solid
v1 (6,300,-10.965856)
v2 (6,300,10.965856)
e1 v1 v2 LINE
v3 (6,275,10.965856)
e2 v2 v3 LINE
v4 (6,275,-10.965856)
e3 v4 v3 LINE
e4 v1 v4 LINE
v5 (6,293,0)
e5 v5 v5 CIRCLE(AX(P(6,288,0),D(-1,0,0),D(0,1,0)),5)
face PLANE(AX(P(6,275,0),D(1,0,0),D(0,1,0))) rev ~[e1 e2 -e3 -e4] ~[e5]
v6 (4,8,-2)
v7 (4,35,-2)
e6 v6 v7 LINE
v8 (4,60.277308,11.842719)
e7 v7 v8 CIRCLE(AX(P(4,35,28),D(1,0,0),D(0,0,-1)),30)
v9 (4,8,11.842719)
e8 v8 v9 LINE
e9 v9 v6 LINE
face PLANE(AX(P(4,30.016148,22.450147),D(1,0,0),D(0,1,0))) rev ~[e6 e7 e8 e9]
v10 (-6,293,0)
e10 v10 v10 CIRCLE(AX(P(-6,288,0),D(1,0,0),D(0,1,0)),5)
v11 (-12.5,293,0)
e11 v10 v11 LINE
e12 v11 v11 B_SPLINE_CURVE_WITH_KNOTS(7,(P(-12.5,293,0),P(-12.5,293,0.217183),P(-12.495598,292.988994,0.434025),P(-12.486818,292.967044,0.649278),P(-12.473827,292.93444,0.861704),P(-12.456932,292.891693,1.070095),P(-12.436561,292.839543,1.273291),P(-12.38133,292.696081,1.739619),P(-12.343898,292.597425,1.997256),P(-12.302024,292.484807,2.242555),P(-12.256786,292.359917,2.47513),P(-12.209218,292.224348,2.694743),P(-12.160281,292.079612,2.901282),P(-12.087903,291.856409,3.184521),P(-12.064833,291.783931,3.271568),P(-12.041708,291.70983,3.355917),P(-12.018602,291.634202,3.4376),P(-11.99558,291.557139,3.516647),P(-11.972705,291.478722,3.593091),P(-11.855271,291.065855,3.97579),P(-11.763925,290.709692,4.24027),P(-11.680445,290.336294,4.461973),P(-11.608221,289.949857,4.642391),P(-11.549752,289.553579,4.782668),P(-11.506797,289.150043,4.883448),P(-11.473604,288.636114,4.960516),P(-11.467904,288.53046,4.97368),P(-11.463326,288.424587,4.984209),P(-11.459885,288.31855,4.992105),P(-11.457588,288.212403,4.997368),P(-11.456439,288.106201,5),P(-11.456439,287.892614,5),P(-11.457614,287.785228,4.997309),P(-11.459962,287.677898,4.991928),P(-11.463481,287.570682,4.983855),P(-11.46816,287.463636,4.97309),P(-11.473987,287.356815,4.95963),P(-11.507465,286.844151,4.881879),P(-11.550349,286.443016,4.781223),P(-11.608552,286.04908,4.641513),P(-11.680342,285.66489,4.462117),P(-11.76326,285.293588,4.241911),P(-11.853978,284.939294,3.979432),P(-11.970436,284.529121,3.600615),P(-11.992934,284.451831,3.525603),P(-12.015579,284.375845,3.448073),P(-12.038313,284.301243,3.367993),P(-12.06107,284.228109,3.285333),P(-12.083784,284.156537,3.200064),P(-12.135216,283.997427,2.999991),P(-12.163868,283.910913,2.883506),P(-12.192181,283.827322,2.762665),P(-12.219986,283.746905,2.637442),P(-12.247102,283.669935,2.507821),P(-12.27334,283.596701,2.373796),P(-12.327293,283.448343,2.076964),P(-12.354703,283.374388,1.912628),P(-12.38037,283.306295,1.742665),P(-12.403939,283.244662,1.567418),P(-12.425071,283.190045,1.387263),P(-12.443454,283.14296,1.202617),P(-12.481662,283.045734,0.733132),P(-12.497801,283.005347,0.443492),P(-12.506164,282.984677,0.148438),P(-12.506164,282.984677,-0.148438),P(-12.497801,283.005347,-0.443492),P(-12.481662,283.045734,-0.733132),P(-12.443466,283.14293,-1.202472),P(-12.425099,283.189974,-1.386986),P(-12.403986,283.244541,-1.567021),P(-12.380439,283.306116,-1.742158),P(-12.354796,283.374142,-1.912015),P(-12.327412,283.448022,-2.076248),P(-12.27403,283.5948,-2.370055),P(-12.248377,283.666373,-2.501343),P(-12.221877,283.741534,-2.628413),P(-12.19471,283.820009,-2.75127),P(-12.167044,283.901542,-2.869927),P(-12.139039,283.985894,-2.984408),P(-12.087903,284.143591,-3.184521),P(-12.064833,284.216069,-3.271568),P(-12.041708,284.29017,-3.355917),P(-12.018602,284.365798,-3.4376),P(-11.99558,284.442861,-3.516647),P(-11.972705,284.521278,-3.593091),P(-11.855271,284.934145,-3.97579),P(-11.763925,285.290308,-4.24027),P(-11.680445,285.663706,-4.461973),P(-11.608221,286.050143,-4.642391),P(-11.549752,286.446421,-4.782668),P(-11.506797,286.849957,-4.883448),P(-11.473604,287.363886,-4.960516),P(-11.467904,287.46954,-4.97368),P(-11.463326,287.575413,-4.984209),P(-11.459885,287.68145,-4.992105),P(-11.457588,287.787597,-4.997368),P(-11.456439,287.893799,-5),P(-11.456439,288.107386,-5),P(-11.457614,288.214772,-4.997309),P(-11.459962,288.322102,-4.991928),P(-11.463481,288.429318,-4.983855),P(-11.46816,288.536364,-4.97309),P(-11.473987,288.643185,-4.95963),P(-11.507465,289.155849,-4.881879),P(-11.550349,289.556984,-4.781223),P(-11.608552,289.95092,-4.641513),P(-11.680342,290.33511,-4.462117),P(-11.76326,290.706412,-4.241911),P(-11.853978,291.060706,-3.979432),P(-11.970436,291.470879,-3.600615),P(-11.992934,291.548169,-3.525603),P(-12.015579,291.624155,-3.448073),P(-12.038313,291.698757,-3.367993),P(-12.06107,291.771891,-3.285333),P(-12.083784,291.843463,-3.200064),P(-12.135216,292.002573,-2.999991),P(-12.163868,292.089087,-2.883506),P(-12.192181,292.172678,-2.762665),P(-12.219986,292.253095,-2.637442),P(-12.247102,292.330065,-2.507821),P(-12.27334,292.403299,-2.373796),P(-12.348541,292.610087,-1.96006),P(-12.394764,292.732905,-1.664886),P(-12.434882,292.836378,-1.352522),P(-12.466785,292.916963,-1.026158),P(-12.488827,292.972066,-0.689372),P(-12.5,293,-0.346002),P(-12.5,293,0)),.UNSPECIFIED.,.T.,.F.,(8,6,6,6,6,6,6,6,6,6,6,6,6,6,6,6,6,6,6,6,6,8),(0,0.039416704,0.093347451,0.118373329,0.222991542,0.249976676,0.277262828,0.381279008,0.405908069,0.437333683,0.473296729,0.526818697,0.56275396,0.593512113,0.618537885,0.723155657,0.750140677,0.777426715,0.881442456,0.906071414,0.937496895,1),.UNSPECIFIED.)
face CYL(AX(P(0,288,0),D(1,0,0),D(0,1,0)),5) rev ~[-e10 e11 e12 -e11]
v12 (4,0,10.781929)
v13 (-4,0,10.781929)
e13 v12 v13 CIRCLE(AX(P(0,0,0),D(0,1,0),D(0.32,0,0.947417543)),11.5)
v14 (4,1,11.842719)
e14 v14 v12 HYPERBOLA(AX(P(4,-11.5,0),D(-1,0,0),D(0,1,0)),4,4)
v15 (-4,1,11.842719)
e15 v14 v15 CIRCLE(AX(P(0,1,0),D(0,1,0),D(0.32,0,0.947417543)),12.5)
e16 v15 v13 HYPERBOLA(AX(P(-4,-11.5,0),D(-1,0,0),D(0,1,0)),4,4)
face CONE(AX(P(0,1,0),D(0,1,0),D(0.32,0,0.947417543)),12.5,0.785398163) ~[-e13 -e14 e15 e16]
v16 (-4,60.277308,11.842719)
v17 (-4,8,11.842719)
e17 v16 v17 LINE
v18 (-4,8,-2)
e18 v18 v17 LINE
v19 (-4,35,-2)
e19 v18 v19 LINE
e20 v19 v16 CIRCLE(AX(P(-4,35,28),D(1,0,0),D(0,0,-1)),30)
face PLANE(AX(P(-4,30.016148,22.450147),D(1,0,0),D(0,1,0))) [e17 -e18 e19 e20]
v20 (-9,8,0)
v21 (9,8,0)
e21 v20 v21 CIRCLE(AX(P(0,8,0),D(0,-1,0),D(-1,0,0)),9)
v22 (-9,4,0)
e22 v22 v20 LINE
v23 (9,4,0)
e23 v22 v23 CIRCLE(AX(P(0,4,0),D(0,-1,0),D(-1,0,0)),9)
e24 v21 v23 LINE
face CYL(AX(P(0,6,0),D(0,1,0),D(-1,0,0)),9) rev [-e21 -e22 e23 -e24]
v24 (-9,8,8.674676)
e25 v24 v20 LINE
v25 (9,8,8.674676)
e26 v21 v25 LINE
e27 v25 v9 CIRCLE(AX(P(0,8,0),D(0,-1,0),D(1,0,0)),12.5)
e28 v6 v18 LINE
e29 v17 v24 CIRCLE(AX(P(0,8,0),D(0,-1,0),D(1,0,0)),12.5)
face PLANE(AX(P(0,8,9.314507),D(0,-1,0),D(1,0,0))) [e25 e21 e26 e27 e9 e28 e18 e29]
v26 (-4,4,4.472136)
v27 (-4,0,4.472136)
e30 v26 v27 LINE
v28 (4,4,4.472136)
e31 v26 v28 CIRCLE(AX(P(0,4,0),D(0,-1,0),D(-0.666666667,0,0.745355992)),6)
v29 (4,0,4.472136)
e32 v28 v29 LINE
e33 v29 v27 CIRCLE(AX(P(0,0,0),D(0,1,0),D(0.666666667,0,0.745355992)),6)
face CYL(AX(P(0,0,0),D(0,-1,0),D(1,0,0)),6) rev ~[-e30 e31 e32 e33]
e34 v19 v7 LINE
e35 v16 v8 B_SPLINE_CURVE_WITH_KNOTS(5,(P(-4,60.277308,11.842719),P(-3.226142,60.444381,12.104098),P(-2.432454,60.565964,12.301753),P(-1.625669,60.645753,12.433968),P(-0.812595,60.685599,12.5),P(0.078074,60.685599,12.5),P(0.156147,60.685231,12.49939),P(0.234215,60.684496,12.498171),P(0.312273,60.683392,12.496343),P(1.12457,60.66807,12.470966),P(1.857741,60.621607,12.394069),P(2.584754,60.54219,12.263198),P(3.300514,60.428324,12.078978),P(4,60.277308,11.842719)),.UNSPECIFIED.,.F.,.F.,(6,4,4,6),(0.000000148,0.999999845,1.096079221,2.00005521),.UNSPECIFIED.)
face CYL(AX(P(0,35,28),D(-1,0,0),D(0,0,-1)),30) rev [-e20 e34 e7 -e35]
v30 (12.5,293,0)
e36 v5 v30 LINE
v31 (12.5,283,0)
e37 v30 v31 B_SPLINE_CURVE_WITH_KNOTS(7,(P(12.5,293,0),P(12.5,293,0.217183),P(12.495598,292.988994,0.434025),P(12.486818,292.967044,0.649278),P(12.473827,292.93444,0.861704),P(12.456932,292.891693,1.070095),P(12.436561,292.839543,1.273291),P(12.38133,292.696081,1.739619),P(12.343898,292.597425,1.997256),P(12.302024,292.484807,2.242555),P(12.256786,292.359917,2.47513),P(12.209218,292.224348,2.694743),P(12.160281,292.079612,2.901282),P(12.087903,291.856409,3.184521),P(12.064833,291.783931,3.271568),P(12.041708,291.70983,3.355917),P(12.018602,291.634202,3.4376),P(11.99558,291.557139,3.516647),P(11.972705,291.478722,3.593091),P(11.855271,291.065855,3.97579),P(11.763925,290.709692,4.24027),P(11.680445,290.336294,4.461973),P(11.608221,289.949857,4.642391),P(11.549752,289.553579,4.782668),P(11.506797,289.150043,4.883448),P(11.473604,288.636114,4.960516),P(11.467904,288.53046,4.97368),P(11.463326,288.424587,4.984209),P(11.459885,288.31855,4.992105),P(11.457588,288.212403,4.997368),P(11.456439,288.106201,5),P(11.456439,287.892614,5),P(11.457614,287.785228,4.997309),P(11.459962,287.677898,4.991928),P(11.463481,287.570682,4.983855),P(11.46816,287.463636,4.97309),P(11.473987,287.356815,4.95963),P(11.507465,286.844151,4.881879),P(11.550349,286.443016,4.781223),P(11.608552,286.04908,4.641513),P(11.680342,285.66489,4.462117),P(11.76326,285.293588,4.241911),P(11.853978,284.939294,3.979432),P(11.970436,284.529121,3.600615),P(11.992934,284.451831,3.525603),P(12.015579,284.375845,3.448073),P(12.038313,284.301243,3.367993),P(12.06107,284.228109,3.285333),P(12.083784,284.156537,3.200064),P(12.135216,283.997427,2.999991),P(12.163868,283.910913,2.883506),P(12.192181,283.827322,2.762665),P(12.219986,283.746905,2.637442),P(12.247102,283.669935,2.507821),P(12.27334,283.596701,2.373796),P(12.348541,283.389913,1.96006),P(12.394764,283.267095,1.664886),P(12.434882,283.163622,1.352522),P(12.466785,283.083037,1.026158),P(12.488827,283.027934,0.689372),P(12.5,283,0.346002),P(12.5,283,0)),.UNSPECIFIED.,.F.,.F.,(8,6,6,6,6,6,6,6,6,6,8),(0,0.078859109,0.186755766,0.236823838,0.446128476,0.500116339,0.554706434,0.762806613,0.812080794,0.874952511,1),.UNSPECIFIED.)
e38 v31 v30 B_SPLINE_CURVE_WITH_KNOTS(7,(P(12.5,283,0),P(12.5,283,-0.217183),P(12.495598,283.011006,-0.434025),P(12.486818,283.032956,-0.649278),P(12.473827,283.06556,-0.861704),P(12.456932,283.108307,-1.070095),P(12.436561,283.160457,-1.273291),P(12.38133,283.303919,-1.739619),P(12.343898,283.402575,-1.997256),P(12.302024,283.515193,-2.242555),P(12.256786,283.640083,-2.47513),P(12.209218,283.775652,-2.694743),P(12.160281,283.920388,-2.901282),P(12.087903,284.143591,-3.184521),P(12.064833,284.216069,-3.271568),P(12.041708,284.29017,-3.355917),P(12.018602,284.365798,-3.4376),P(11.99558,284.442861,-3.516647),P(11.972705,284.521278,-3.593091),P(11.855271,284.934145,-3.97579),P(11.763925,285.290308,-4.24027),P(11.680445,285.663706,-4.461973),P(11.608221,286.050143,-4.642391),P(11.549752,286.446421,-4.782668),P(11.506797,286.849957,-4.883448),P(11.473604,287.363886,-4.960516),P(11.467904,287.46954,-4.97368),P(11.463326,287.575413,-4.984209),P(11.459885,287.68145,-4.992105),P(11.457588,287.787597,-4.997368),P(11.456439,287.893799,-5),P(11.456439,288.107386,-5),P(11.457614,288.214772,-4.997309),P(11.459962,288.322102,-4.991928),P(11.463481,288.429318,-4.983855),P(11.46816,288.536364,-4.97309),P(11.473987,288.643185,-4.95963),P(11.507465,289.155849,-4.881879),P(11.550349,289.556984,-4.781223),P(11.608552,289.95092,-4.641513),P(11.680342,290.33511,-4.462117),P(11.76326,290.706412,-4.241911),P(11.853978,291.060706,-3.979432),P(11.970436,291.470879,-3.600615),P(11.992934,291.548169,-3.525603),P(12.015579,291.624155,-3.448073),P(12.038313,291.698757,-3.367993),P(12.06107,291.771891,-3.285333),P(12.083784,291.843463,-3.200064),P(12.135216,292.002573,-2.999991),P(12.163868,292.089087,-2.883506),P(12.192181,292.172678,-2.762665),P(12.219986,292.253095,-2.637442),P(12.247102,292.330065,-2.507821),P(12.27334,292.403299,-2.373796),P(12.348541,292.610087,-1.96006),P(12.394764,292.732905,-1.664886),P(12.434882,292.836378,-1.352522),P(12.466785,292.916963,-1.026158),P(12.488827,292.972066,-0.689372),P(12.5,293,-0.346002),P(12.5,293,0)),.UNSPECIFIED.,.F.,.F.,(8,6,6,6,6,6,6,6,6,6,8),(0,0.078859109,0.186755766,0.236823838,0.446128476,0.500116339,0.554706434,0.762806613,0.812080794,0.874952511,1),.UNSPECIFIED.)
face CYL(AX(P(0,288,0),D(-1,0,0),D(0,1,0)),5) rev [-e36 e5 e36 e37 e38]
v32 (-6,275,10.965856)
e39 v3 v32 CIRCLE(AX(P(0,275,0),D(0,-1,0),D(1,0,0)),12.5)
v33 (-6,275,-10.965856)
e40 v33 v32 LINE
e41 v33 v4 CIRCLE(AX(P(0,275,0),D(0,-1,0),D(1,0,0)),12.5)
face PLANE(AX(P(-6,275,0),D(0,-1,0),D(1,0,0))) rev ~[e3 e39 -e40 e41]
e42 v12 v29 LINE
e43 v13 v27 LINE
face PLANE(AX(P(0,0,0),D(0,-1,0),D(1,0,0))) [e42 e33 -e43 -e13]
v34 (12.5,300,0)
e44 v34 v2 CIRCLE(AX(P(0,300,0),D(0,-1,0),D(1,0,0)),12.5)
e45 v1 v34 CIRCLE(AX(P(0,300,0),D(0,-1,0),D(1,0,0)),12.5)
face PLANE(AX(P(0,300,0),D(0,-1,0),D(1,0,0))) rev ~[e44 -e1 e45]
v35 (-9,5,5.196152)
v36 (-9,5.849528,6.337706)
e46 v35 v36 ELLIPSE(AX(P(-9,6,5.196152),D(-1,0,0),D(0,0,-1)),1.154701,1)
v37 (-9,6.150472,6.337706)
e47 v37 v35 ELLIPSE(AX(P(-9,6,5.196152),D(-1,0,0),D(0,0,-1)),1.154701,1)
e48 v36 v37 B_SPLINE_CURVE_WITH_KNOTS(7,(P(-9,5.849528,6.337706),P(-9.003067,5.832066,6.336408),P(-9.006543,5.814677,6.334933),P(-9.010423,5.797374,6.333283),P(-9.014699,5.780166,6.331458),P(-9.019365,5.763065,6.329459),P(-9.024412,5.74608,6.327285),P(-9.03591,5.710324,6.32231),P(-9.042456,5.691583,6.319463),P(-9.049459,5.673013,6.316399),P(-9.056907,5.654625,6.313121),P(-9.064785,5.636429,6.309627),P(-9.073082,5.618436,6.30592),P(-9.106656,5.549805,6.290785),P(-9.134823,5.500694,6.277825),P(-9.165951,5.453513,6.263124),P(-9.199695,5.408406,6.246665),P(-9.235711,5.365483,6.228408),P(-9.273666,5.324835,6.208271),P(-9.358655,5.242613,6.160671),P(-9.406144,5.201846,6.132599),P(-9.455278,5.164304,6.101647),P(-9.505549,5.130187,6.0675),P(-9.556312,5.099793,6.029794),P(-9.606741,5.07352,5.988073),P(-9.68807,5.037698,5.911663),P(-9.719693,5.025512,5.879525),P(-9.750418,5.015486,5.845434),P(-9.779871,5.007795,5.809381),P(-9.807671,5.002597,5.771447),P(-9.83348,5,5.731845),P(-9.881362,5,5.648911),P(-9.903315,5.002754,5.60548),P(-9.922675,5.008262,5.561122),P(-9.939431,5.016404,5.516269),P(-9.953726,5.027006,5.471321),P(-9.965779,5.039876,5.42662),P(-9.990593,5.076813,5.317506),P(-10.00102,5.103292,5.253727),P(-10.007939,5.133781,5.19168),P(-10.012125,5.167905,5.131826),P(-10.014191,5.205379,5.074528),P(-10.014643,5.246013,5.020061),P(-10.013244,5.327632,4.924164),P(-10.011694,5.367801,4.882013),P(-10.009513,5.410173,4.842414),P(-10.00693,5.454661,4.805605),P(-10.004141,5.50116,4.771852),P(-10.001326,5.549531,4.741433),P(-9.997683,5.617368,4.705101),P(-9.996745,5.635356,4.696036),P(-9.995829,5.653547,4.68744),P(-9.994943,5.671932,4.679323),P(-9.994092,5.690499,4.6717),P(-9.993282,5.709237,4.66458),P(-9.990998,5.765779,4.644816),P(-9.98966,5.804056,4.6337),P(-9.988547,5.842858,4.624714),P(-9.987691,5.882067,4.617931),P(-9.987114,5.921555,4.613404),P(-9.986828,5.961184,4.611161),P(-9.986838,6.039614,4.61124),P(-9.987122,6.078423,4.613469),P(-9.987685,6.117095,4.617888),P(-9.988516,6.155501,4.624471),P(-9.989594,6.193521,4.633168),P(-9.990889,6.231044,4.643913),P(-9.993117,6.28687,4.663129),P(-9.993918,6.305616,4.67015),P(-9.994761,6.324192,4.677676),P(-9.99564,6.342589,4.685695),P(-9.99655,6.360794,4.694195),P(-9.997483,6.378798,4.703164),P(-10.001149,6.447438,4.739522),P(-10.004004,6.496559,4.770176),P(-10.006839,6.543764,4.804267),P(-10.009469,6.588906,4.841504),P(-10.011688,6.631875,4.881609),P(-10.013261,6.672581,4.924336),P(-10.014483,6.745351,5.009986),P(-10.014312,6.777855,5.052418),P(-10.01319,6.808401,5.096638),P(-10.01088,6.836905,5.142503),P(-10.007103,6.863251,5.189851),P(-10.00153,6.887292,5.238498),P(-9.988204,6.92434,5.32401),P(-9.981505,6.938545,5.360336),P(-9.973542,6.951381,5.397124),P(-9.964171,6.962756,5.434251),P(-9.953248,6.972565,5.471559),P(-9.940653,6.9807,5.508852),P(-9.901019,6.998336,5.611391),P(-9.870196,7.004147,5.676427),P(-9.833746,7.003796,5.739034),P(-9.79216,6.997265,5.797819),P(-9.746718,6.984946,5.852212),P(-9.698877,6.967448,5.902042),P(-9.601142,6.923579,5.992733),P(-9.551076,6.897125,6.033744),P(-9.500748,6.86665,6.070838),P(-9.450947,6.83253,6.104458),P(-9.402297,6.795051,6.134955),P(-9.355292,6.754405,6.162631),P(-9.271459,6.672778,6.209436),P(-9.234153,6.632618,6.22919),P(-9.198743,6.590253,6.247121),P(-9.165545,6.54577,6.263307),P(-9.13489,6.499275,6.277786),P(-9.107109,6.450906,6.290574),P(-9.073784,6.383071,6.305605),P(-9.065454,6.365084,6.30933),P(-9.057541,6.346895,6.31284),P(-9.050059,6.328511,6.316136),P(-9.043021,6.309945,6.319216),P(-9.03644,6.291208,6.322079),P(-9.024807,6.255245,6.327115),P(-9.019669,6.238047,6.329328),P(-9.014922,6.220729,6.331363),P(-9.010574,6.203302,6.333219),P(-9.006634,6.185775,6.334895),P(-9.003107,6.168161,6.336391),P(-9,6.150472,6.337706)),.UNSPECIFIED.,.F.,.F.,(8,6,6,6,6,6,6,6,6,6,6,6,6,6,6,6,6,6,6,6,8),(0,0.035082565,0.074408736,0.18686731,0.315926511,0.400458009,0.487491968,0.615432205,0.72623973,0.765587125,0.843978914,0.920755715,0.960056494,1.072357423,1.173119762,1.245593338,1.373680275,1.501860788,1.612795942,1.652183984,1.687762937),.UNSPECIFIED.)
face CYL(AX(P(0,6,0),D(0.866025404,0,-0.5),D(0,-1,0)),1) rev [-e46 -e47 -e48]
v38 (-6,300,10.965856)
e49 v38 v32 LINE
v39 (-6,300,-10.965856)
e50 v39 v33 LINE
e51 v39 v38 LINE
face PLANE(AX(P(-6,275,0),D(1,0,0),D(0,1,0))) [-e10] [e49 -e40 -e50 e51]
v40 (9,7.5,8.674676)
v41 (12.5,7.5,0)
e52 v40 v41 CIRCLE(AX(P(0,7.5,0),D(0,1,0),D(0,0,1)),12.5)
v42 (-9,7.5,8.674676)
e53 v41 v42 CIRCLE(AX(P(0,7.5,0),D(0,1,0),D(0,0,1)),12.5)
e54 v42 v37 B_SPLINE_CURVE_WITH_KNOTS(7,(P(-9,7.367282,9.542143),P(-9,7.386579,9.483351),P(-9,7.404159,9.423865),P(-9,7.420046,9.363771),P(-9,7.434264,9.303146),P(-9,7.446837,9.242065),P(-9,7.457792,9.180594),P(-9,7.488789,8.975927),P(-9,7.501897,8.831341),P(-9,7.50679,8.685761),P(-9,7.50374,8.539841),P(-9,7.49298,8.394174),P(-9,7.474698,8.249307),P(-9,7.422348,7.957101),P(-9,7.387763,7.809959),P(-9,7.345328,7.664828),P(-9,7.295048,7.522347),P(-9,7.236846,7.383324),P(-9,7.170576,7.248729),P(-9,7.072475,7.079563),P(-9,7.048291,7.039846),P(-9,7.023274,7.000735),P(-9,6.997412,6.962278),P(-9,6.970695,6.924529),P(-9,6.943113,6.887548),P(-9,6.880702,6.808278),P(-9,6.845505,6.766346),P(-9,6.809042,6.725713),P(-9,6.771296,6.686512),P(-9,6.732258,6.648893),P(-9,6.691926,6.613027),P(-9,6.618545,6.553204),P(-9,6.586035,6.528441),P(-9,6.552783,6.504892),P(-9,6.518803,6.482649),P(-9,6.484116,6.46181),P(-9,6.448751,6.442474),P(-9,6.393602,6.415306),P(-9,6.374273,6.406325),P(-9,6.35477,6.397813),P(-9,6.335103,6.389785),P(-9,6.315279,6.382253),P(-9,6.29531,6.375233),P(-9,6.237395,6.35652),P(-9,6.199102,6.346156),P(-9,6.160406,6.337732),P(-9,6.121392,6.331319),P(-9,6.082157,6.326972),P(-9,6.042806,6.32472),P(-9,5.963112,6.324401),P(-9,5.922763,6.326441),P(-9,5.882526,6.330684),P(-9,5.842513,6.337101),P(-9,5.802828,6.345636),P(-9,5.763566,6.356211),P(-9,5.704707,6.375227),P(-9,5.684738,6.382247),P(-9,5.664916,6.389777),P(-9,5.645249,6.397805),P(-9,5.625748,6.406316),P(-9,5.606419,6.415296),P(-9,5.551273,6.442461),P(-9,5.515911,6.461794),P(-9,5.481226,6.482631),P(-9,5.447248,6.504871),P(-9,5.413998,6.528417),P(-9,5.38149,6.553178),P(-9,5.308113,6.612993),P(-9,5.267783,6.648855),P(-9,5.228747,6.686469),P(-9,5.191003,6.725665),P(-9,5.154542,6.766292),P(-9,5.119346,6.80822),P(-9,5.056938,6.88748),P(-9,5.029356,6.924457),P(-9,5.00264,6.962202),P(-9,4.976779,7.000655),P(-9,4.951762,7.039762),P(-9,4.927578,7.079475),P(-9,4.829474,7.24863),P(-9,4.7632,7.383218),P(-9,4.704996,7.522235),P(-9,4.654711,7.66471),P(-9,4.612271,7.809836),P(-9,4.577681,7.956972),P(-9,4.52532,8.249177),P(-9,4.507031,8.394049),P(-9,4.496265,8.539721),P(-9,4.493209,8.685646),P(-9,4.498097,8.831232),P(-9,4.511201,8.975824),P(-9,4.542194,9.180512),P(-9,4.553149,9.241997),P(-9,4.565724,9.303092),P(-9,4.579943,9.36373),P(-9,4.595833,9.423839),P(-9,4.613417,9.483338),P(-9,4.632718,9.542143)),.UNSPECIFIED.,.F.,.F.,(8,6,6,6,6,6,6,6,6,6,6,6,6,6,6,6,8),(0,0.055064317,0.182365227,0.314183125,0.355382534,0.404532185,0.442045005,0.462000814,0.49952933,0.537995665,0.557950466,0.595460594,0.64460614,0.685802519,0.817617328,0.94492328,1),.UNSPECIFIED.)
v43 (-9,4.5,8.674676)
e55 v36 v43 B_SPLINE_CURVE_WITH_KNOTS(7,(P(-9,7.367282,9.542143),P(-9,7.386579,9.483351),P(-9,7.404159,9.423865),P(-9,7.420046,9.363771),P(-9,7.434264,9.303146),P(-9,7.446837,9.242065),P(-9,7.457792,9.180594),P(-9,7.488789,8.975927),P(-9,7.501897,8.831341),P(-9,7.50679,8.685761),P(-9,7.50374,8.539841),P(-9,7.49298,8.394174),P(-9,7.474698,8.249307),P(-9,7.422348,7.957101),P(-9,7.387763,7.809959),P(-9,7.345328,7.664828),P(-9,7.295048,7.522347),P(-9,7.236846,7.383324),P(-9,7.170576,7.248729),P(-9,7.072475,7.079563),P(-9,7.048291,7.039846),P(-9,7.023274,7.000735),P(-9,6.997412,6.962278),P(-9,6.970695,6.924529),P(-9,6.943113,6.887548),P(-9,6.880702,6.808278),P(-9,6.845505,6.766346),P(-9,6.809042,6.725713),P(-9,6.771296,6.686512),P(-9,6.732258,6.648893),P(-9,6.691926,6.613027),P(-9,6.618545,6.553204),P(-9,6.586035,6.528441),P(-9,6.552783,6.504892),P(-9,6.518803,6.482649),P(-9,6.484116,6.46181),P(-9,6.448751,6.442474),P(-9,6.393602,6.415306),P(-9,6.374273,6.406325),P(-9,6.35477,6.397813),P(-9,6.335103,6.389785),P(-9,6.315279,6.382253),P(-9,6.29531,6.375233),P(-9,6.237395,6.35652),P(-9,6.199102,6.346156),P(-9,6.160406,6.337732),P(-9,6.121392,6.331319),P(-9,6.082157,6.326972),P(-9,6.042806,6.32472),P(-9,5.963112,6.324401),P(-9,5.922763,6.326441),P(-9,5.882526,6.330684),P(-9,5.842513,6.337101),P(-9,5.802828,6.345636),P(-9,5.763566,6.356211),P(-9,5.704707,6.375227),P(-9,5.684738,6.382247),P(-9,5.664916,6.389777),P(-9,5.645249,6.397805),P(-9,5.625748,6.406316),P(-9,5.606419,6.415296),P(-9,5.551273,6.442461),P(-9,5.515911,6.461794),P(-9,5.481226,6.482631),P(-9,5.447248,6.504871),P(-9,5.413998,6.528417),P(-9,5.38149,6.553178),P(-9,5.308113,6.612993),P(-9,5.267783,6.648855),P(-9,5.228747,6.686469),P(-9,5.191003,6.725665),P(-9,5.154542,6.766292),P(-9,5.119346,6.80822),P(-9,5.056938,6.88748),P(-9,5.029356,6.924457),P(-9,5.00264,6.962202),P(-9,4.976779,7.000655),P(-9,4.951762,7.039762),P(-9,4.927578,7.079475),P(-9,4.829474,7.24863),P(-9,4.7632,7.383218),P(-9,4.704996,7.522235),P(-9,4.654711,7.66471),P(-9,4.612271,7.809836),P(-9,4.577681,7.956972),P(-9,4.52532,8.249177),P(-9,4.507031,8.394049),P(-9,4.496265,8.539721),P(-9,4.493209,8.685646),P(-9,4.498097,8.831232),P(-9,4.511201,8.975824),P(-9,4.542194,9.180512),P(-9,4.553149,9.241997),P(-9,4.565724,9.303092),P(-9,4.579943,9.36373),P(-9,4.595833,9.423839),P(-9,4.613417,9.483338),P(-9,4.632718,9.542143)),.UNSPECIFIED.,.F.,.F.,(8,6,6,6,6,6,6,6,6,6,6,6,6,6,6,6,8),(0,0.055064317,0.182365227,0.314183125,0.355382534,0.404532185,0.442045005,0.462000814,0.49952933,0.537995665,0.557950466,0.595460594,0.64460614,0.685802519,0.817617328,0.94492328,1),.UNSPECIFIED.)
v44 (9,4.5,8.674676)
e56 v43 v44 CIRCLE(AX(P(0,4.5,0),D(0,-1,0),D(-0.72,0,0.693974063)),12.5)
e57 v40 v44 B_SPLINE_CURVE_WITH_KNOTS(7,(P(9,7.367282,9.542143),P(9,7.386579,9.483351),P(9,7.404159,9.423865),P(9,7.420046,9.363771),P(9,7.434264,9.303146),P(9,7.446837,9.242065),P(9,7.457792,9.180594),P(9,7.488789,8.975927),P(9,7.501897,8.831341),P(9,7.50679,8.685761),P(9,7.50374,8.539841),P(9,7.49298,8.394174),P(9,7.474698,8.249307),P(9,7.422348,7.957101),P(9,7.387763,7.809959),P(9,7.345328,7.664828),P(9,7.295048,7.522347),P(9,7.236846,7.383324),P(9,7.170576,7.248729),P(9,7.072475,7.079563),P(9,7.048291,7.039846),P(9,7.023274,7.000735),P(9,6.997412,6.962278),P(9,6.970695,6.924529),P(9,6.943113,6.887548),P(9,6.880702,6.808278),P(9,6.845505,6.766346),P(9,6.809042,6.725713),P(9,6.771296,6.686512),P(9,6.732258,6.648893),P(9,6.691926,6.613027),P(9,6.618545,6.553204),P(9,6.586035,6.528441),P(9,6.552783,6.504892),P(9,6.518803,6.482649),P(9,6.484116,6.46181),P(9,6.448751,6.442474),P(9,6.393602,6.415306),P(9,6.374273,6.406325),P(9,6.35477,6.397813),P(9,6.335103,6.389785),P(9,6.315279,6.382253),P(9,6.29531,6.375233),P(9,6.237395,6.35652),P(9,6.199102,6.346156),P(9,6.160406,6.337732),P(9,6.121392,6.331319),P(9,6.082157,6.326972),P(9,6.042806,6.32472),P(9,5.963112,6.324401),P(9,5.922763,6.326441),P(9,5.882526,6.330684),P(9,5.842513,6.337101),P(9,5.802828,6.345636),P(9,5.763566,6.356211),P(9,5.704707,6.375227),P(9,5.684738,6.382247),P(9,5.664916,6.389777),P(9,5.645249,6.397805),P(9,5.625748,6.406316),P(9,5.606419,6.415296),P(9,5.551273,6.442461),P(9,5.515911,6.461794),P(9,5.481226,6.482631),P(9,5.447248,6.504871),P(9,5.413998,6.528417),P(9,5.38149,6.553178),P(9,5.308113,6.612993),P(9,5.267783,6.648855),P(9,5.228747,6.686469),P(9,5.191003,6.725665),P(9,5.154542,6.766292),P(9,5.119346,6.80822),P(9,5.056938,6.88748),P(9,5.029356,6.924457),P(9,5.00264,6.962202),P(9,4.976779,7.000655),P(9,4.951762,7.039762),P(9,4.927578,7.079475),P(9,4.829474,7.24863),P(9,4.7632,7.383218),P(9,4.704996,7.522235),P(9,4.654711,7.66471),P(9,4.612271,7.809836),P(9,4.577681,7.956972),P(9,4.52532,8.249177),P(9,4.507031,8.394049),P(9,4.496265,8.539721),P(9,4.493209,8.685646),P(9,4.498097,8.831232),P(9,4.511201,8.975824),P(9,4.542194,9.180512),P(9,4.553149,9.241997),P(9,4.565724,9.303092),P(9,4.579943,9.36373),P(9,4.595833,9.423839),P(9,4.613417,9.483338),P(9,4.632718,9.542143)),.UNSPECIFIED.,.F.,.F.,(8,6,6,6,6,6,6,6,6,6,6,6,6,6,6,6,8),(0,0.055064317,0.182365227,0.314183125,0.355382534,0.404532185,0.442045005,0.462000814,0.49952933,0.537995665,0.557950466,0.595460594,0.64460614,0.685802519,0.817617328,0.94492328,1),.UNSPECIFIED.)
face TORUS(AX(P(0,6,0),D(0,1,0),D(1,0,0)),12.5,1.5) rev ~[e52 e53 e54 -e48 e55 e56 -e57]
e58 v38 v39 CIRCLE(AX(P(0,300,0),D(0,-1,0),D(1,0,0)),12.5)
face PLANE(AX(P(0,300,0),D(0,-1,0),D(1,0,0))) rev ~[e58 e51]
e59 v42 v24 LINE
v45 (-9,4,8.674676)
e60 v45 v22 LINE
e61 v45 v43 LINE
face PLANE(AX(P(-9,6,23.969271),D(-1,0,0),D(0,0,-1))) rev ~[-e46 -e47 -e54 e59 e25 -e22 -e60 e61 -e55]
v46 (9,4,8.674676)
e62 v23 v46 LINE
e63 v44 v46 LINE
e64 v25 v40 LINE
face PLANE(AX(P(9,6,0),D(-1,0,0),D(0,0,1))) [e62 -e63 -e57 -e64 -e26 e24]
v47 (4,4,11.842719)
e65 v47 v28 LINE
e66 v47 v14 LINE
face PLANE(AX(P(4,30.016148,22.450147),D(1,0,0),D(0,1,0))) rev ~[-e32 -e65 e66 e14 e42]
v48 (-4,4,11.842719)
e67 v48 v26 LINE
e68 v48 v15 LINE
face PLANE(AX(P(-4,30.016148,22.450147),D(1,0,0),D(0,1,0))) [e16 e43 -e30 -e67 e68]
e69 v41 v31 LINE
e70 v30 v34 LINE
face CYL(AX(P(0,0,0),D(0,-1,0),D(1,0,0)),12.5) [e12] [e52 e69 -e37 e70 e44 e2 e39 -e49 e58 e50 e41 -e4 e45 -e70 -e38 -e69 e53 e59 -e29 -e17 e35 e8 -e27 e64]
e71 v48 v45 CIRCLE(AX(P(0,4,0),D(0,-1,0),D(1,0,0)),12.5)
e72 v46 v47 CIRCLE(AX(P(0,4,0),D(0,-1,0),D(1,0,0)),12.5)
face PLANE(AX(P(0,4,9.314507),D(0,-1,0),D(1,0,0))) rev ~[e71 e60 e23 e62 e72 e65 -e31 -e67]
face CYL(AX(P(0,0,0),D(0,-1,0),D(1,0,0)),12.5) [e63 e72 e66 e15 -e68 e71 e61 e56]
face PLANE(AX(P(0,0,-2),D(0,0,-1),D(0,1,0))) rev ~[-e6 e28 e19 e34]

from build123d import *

# Parameters (mm, degrees)
F0_R           = 12.5
F1_DEPTH       = 300
F2_W           = 12
F2_H           = 50
F3_DEPTH       = 12.501
F3_DEPTH_BACK  = 12.501
F4_R           = 5
F5_DEPTH       = 12.501
F5_DEPTH_BACK  = 12.501
F7_DEPTH       = 4
F7_DEPTH_BACK  = 4
F10_DEPTH      = 2
F10_DEPTH_BACK = 2
F11_R          = 6
F12_DEPTH      = 8
F13_R          = 1.5
F15_SIZE       = 1
F18_R          = 1
F19_DEPTH      = 17.076317684


with BuildPart() as f1:
    # F0 (on Front) → F1 (new body)
    with BuildSketch(Plane.XZ):
        Circle(F0_R)
    extrude(amount=-F1_DEPTH)

    # F2 (on Top) → F3 (cut, two sides)
    with BuildSketch(Plane.XY) as f3_sk:
        with Locations((0, 300)):
            Rectangle(F2_W, F2_H)
    extrude(amount=-F3_DEPTH, mode=Mode.SUBTRACT)
    extrude(f3_sk.sketch, amount=F3_DEPTH_BACK, mode=Mode.SUBTRACT)

    # F4 (on Right) → F5 (cut, two sides)
    with BuildSketch(Plane.YZ) as f5_sk:
        with Locations((288, 0)):
            Circle(F4_R)
    extrude(amount=-F5_DEPTH, mode=Mode.SUBTRACT)
    extrude(f5_sk.sketch, amount=F5_DEPTH_BACK, mode=Mode.SUBTRACT)

    # F6 (on Right) → F7 (cut, two sides)
    with BuildSketch(Plane.YZ) as f7_sk:
        with BuildLine():
            Line((0, 43.2144903421), (0, -2))
            Line((0, -2), (35, -2))
            ThreePointArc((35, -2), (56.2132034356, 6.7867965644), (65, 28))
            Line((65, 28), (65, 43.2144903421))
            Line((65, 43.2144903421), (0, 43.2144903421))
        make_face()
    extrude(amount=F7_DEPTH, mode=Mode.SUBTRACT)
    extrude(f7_sk.sketch, amount=-F7_DEPTH_BACK, mode=Mode.SUBTRACT)

    # F9 (on offset) → F10 (cut, two sides)
    with BuildSketch(Plane.XZ.offset(-6)) as f10_sk:
        with BuildLine():
            Line((-9, 23.9692713934), (-9, 0))
            ThreePointArc((-9, 0), (0, -9), (9, 0))
            Line((9, 0), (9, 23.9692713934))
            Line((9, 23.9692713934), (-9, 23.9692713934))
        make_face()
    extrude(amount=-F10_DEPTH, mode=Mode.SUBTRACT)
    extrude(f10_sk.sketch, amount=F10_DEPTH_BACK, mode=Mode.SUBTRACT)

    # F11 (on Front) → F12 (cut, through all)
    with BuildSketch(Plane.XZ):
        Circle(F11_R)
    extrude(amount=-F12_DEPTH, mode=Mode.SUBTRACT)

    # F13 (on Top) → F14 (revolve, cut)
    with BuildSketch(Plane.XY):
        with Locations((12.5, 6)):
            Circle(F13_R)
    revolve(axis=Axis((0, 7.8222351149, 0), (0, 1, 0)), mode=Mode.SUBTRACT)

    # F15
    f15_edges = [f1.edges().sort_by_distance(p)[0] for p in [
        (0, 0, -12.5),
    ]]
    chamfer(f15_edges, length=F15_SIZE)

    # F18 (on line) → F19 (cut, through all)
    with BuildSketch(Plane(origin=(0, 0, 0), x_dir=(0, -1, 0), z_dir=(-0.8660254038, 0, 0.5))):
        with Locations((-6, 0)):
            Circle(F18_R)
    extrude(amount=F19_DEPTH, mode=Mode.SUBTRACT)


solid = f1.part
